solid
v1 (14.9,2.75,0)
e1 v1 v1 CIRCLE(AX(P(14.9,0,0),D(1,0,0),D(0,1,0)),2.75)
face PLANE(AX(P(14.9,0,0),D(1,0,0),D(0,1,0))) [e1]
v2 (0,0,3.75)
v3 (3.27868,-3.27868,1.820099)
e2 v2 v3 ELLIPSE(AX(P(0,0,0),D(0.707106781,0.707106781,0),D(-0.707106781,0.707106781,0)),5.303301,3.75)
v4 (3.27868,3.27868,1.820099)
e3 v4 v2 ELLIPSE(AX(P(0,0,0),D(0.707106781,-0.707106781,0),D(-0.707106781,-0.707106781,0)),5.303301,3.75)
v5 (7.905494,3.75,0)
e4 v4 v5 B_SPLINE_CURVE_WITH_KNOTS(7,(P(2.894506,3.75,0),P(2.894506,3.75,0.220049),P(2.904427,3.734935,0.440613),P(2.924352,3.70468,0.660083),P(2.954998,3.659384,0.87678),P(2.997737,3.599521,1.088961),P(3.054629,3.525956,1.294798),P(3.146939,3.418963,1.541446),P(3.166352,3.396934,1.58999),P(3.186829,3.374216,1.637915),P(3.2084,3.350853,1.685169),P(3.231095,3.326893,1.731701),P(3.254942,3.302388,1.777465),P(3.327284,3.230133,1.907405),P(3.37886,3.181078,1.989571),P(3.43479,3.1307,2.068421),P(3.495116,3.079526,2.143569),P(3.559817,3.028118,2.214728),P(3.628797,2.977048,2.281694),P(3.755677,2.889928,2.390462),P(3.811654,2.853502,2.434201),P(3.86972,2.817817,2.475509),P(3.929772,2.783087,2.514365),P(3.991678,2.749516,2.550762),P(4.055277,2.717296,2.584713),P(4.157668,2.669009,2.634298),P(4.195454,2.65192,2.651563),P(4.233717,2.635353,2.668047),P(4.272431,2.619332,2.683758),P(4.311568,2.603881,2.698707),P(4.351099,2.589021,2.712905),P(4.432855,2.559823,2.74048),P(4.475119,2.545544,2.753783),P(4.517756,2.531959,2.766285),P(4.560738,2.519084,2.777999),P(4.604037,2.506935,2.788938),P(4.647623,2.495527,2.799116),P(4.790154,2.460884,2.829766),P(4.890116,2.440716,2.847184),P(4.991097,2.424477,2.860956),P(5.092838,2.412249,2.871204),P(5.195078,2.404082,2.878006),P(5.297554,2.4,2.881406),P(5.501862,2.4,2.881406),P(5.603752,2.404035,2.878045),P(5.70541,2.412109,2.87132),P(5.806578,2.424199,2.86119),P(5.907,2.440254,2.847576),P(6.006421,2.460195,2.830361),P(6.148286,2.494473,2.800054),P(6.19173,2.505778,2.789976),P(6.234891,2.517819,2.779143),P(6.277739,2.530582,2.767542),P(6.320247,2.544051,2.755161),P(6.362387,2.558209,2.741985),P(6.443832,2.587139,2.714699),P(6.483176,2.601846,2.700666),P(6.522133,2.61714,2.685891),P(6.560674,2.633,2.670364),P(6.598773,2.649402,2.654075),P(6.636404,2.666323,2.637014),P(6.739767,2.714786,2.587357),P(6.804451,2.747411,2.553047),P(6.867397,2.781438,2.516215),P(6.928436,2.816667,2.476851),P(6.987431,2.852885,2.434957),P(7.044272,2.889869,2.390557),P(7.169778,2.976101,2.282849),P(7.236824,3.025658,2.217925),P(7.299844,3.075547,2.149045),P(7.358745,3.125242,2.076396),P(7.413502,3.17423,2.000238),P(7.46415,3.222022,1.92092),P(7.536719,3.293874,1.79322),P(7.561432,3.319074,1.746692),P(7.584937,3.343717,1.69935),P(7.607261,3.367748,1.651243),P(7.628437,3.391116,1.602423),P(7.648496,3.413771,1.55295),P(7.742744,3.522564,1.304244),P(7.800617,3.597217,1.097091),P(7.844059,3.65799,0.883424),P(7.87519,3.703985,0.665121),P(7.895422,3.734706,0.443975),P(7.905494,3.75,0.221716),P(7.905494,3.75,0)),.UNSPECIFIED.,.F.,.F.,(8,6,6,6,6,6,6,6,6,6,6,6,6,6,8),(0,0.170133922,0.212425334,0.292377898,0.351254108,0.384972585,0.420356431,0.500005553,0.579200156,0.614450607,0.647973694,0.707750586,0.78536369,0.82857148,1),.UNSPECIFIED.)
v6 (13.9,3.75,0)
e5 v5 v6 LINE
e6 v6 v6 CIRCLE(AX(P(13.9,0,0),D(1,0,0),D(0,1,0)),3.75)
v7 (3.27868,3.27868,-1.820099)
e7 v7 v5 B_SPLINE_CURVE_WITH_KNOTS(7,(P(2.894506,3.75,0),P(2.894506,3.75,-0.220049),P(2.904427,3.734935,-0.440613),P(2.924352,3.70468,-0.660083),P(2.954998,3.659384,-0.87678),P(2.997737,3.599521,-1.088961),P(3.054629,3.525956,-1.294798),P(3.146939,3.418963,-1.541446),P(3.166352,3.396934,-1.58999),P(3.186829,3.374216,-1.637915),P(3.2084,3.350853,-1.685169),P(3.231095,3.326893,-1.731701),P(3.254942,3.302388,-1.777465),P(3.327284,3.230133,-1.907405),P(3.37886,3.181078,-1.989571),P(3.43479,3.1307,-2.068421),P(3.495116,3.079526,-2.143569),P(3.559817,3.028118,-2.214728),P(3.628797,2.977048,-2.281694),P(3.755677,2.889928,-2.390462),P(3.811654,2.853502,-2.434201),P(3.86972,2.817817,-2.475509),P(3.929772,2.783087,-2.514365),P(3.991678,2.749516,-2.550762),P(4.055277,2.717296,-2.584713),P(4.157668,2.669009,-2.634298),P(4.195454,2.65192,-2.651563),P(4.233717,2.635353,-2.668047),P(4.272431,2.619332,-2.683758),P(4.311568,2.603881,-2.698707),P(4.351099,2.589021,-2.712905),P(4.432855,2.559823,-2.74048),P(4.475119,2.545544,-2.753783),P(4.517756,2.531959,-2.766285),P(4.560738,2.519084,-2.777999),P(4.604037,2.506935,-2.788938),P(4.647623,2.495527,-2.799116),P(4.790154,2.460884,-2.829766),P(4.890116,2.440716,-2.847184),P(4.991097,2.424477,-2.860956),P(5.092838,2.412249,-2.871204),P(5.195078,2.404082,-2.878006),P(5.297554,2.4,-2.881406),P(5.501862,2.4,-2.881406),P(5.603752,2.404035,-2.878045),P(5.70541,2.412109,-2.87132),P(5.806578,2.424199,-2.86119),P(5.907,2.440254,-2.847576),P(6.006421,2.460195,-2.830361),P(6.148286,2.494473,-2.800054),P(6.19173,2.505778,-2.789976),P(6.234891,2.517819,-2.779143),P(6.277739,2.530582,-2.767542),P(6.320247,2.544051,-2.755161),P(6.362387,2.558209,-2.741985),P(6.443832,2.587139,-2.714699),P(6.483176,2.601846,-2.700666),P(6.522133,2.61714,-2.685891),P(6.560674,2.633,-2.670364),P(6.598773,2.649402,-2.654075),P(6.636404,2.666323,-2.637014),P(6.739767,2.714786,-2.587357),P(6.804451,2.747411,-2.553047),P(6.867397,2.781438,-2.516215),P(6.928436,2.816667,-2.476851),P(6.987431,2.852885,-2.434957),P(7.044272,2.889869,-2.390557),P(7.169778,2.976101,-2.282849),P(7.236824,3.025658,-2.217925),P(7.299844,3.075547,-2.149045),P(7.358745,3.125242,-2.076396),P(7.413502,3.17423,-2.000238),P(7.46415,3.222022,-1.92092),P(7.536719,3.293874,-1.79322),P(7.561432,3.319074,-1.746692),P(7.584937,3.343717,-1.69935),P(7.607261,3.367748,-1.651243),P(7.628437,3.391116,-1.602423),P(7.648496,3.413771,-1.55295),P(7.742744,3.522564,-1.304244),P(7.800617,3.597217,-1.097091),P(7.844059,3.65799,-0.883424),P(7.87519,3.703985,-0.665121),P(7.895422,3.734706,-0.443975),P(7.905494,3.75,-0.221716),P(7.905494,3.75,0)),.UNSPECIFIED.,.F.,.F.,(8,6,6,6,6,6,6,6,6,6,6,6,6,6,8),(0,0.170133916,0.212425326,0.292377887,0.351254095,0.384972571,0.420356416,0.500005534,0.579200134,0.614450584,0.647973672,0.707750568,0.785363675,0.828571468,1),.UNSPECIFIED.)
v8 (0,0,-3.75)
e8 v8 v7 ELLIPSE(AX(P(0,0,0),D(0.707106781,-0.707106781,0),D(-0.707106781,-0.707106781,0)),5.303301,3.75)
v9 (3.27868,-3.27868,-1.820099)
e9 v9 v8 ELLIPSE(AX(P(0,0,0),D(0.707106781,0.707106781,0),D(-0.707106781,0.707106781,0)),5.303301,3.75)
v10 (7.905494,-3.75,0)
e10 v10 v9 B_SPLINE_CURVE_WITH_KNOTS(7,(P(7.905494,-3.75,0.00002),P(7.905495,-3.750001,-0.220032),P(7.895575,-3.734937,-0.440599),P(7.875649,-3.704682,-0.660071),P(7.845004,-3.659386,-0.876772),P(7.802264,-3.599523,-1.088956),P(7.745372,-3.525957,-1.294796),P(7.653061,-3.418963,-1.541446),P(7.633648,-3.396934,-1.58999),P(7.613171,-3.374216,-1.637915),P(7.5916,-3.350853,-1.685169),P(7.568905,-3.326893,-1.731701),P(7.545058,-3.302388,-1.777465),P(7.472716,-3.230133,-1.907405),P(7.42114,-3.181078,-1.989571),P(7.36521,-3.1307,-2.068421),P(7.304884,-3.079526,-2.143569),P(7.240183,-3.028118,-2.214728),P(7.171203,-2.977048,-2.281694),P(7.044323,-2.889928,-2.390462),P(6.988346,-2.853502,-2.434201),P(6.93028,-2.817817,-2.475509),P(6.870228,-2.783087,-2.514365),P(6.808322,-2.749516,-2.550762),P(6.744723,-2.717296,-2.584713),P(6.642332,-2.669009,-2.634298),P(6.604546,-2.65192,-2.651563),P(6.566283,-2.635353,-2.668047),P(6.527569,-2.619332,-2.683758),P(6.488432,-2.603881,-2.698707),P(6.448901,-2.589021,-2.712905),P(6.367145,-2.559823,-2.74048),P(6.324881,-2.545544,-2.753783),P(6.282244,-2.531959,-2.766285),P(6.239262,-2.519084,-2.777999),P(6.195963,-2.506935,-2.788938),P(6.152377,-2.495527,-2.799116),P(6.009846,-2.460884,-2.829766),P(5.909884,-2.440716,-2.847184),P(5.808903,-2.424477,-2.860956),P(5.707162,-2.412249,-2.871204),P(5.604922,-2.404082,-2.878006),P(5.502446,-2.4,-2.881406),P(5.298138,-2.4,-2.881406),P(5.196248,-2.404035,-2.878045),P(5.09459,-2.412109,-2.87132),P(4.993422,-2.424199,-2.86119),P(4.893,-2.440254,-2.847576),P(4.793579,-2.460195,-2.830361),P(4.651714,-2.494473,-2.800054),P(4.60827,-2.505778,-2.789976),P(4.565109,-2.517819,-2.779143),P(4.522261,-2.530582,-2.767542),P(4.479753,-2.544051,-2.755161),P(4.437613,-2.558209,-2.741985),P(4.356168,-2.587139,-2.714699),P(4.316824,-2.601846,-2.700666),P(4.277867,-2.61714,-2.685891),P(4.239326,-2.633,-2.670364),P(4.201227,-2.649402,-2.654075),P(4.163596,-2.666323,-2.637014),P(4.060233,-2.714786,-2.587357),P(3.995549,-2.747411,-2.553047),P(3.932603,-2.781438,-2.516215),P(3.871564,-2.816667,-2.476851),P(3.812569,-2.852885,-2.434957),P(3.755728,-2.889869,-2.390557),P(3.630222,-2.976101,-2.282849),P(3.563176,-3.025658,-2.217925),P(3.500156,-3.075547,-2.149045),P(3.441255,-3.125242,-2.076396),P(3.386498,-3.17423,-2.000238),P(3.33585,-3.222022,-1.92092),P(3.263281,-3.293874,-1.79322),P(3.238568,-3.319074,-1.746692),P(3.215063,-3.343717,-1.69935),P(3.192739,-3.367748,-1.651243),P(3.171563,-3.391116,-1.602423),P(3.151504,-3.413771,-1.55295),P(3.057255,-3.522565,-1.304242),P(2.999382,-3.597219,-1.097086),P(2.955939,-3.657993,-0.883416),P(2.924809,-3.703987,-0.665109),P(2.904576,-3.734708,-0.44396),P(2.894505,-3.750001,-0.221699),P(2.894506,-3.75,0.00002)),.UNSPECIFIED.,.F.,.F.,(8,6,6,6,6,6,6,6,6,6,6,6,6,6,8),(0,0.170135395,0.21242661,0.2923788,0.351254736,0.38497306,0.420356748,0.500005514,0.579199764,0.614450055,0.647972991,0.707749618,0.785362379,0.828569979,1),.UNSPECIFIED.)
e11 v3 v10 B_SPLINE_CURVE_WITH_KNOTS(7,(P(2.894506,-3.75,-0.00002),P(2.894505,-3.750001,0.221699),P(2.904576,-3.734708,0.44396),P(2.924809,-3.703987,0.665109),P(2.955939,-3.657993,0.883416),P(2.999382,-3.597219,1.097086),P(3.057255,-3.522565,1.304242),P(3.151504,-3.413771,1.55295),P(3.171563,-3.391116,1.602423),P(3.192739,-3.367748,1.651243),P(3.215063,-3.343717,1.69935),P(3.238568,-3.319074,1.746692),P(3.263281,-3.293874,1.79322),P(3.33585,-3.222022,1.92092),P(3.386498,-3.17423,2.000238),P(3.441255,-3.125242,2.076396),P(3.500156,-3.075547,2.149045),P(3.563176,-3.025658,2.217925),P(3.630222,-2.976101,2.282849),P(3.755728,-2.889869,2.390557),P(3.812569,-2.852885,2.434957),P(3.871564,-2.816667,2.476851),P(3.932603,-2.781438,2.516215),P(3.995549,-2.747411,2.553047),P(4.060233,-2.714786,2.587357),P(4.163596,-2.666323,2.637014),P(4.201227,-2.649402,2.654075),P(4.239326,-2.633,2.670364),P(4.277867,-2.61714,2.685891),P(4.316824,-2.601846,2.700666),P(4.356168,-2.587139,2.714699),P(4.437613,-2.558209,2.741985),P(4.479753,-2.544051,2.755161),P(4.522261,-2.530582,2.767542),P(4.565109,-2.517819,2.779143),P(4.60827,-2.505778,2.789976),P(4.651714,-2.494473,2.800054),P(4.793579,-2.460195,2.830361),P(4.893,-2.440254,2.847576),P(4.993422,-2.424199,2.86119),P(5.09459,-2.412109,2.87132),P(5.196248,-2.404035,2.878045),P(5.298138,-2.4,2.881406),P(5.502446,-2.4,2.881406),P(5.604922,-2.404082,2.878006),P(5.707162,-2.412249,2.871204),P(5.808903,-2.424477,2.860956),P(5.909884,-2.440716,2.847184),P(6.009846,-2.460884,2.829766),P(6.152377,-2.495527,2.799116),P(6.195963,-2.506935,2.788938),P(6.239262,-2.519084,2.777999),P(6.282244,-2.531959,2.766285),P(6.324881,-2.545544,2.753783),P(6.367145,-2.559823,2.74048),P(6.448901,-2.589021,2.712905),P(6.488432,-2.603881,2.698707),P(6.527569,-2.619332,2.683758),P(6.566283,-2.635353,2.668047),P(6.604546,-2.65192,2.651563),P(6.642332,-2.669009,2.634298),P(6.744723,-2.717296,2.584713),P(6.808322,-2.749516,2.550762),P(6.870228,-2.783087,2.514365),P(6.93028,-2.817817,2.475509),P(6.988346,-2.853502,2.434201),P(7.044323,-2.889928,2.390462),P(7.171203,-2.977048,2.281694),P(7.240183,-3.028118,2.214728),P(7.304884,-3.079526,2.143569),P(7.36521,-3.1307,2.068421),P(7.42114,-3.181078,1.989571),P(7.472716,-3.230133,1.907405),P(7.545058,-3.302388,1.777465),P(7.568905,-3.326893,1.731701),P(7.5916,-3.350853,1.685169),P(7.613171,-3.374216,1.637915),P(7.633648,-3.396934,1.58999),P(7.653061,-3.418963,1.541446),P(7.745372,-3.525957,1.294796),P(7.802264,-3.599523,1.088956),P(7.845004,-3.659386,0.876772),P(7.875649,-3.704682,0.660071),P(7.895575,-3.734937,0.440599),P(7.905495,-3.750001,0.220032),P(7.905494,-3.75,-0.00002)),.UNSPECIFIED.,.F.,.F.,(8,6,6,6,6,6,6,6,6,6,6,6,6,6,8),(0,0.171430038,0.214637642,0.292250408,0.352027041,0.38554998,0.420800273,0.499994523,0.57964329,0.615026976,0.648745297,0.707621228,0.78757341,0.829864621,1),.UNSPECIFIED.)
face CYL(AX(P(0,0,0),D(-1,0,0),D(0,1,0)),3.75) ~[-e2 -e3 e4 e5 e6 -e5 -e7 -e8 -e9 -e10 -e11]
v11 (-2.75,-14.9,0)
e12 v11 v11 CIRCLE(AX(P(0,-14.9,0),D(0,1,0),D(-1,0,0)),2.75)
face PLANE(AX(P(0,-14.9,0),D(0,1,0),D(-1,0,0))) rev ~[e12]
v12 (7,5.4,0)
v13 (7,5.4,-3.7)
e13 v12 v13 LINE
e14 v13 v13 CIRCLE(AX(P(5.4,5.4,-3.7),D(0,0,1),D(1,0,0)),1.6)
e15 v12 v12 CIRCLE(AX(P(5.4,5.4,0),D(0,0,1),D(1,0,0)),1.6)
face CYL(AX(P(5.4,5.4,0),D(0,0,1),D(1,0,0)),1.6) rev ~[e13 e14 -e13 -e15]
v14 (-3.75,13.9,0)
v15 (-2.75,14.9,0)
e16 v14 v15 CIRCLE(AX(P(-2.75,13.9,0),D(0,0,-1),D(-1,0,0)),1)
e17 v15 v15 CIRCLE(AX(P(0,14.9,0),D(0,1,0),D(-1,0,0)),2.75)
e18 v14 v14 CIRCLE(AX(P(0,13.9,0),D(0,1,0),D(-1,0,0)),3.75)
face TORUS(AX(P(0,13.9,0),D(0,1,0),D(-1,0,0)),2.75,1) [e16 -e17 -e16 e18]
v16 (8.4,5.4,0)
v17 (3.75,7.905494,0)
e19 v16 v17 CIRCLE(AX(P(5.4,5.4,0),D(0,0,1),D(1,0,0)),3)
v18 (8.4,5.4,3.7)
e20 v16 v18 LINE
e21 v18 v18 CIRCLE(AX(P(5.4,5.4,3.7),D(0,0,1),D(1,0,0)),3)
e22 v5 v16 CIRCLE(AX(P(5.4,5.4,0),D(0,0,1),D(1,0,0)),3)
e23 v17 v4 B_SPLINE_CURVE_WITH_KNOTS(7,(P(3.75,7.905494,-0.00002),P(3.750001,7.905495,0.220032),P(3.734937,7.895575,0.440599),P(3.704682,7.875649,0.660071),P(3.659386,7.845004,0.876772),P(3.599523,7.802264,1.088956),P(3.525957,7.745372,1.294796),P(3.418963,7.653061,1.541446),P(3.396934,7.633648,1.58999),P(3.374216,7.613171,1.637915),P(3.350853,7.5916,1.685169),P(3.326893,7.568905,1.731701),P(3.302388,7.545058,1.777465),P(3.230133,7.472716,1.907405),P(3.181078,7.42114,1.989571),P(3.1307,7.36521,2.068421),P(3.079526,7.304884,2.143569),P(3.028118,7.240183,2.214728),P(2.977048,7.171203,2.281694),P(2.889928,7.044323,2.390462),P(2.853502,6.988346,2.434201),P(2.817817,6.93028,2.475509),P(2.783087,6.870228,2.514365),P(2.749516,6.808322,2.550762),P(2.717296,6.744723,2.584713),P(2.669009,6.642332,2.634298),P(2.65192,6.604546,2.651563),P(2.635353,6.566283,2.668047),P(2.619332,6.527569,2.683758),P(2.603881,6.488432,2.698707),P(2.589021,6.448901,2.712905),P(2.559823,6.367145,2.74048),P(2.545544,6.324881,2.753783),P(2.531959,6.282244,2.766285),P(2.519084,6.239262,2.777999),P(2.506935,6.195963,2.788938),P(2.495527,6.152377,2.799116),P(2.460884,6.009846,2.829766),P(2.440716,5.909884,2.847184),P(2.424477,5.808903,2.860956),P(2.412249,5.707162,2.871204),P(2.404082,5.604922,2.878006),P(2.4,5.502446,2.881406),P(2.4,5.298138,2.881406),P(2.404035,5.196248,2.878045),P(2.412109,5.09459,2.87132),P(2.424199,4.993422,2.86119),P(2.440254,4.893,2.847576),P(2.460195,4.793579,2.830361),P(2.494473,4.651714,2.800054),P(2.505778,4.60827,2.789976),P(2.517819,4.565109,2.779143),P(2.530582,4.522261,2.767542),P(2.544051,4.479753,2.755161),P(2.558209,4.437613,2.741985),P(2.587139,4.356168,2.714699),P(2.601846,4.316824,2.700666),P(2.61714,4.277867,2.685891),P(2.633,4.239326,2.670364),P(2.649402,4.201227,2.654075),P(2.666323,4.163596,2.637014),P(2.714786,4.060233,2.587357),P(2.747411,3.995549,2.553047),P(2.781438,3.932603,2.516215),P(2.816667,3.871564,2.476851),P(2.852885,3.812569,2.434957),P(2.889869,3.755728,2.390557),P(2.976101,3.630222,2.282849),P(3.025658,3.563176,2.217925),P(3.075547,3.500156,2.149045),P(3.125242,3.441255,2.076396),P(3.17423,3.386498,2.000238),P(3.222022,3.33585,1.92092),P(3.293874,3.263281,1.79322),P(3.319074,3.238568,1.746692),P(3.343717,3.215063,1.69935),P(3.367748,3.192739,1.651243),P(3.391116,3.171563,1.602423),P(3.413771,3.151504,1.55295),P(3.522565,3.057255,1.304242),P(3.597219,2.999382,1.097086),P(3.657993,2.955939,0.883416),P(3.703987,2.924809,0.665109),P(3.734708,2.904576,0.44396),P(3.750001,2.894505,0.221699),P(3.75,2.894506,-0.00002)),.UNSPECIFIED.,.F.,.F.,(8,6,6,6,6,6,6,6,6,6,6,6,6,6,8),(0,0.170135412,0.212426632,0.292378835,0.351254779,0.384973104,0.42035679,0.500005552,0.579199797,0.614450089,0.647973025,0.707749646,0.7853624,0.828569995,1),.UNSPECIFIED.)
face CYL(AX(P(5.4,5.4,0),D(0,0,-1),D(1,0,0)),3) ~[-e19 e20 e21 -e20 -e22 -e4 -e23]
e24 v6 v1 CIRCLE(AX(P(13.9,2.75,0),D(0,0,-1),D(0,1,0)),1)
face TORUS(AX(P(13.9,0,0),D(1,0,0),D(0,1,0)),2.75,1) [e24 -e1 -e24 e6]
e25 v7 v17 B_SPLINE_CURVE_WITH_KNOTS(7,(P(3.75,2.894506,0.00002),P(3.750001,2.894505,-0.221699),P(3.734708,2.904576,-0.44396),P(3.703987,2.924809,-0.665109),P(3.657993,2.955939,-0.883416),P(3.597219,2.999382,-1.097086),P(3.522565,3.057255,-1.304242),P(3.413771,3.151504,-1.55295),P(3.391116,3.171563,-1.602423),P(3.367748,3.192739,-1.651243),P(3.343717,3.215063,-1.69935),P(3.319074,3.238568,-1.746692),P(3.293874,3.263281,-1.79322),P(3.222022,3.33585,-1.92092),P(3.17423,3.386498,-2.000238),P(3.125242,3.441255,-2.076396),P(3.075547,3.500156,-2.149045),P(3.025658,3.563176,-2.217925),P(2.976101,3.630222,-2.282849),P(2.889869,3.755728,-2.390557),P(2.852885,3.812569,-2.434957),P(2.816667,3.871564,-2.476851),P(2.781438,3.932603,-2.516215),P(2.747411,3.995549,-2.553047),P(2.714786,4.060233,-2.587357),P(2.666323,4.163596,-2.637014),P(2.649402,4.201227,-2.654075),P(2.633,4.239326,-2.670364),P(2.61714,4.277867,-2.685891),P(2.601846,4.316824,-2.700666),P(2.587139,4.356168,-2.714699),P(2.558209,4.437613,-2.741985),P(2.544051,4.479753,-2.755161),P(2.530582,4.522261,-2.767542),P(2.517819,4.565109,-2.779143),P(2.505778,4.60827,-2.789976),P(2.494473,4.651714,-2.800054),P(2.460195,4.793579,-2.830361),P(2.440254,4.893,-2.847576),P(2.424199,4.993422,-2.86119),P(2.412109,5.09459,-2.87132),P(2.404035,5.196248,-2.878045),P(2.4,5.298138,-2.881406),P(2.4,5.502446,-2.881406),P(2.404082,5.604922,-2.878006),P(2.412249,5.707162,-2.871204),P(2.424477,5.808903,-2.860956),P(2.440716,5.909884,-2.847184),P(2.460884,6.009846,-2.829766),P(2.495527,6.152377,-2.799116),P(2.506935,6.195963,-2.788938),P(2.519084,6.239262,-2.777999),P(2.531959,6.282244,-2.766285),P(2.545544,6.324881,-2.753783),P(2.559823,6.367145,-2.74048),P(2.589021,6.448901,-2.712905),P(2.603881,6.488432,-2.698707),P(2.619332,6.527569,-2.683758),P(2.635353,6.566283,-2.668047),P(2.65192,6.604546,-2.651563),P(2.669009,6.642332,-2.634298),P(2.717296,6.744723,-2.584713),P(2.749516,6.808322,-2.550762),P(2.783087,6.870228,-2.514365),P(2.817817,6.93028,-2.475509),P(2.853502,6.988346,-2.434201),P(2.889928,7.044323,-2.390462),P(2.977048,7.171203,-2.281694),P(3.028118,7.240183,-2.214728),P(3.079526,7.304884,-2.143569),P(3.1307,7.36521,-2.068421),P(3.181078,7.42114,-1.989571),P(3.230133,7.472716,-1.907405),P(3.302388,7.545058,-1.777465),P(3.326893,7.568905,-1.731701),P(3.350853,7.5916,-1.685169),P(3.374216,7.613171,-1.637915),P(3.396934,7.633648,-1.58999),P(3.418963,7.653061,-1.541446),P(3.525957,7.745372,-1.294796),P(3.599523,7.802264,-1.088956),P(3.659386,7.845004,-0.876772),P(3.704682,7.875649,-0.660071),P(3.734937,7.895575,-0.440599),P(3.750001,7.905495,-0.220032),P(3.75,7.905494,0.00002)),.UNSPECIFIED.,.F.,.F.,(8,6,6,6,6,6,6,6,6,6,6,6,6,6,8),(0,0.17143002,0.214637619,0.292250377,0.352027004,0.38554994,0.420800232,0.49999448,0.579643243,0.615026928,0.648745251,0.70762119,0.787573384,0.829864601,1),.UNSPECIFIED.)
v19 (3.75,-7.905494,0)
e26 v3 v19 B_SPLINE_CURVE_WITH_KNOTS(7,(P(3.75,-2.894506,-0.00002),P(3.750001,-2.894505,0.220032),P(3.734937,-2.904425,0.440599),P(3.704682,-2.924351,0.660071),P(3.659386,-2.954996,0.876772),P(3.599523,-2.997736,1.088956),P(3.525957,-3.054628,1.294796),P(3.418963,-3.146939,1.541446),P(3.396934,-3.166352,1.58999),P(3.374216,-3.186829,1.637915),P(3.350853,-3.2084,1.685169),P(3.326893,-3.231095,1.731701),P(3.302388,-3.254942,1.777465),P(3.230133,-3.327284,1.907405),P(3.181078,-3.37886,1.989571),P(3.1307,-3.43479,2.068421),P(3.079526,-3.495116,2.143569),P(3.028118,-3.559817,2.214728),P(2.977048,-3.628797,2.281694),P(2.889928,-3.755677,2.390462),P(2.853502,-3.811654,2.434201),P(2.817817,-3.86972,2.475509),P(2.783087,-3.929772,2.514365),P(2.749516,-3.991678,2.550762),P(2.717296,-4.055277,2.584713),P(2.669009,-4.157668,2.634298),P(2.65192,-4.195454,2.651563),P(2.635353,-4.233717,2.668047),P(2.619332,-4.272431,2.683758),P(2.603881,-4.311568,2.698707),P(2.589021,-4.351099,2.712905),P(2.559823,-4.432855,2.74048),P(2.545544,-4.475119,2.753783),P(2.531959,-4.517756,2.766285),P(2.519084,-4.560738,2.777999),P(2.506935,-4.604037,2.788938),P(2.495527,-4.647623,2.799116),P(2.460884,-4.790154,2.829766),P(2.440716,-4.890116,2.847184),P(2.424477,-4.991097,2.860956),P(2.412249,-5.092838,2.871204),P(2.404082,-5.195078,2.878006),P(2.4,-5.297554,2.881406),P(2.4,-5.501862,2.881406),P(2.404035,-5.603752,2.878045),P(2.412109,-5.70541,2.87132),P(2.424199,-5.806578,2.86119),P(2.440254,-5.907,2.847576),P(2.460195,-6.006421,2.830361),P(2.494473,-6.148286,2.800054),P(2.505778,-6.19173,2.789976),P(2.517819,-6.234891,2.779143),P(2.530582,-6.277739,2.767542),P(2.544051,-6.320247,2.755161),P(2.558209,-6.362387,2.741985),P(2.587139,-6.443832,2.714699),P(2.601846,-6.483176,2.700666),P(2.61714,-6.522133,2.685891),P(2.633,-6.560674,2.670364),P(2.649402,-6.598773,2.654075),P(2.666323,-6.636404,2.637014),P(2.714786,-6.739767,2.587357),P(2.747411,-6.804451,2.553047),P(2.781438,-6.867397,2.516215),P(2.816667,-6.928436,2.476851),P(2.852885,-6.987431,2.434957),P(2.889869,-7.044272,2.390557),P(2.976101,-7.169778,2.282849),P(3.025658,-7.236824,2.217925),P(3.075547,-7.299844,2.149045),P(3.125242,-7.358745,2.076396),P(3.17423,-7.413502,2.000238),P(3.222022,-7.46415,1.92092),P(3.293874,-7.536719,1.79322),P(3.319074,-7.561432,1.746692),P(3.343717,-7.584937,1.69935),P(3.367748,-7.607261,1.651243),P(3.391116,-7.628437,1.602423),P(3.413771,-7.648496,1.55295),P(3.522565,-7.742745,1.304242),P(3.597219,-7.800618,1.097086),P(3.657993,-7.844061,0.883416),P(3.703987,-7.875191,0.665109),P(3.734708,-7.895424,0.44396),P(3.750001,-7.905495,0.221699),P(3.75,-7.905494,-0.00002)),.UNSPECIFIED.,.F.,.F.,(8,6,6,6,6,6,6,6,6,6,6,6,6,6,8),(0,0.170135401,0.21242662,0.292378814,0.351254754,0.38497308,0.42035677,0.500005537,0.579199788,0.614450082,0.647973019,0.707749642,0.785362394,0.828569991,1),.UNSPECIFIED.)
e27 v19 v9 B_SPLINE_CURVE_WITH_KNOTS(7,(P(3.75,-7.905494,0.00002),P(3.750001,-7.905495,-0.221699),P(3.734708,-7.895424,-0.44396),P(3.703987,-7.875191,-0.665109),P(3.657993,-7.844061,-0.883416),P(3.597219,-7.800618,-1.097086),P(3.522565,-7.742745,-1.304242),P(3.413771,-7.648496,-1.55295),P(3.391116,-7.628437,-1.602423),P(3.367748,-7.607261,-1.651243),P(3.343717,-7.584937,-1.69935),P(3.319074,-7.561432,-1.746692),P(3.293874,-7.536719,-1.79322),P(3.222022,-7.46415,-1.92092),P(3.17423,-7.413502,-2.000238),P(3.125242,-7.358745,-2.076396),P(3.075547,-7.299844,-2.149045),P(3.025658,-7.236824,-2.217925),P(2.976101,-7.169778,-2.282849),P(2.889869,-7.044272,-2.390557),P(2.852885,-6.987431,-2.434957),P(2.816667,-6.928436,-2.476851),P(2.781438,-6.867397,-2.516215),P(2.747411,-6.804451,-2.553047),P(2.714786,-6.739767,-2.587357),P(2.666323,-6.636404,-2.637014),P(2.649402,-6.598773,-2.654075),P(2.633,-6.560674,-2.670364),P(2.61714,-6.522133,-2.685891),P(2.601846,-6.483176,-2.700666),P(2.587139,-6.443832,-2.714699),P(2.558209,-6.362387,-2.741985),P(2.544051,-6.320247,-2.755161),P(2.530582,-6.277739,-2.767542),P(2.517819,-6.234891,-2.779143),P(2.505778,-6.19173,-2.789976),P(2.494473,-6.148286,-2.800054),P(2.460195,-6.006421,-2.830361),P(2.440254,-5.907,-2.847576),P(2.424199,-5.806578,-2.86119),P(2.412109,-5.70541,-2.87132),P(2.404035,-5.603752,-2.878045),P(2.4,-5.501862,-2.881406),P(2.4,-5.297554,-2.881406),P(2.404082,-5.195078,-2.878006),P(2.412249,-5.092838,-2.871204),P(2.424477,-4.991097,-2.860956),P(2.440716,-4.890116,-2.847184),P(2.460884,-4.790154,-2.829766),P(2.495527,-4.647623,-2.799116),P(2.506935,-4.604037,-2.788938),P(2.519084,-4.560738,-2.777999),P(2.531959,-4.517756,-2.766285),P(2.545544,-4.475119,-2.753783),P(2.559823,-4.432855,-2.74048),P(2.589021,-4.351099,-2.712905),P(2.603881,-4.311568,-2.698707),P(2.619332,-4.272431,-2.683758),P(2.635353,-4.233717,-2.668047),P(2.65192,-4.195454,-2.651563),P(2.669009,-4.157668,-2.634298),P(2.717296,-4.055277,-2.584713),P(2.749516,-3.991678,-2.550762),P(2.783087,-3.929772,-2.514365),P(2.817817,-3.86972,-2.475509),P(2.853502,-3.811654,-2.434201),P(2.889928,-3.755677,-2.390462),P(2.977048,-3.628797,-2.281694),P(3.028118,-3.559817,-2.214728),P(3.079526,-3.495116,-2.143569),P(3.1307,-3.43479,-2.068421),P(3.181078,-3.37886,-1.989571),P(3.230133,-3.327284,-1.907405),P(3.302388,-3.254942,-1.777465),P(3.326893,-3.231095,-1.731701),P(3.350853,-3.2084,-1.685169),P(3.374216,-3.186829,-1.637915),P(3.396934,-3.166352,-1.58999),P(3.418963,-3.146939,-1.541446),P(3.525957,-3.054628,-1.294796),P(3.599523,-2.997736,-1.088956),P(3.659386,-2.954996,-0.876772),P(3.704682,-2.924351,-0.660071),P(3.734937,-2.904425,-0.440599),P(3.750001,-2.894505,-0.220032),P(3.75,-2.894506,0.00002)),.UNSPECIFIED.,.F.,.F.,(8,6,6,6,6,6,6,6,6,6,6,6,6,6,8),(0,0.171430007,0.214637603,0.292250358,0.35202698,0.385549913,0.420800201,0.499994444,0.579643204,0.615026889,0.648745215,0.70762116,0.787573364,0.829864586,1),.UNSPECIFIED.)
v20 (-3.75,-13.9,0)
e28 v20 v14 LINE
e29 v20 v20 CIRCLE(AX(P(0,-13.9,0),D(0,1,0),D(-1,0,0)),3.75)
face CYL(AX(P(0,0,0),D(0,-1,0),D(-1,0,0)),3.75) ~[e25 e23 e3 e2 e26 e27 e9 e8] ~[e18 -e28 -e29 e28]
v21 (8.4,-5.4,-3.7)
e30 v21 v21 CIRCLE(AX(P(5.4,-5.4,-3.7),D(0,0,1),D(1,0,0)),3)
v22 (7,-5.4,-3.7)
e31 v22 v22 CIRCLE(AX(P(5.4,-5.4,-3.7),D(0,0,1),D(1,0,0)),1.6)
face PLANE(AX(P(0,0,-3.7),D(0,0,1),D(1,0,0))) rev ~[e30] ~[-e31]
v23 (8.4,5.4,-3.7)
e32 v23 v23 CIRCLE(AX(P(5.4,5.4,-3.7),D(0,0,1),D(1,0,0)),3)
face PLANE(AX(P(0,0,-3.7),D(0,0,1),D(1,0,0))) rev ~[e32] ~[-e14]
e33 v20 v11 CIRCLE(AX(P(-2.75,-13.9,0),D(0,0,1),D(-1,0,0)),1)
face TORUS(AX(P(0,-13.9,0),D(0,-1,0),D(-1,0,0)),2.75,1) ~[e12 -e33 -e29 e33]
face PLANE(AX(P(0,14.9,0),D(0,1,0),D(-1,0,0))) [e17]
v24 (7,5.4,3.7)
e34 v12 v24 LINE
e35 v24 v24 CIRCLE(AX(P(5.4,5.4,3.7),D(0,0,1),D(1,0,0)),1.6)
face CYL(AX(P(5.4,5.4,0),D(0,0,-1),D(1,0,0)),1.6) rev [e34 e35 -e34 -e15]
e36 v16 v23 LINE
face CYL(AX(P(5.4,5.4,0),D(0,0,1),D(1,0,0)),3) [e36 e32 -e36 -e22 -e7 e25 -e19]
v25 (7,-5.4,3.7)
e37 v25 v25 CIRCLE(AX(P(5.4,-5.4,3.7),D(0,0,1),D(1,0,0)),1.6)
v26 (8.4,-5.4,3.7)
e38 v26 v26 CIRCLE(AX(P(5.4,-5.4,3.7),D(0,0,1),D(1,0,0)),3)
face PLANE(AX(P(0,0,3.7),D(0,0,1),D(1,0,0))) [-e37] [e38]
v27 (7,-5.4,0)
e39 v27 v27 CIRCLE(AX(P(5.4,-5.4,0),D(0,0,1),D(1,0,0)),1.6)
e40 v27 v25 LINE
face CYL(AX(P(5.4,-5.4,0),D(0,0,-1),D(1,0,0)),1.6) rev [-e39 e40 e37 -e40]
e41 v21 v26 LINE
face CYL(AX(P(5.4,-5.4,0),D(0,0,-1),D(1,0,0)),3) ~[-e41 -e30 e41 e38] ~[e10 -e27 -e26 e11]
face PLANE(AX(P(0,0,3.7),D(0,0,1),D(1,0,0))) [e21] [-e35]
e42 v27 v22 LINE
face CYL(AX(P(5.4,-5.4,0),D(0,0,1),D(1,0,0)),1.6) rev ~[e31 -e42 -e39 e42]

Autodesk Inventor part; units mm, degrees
ref_plane "YZ Plane" through (0, 0, 0) normal (1, 0, 0) x (0, 1, 0)
ref_plane "XZ Plane" through (0, 0, 0) normal (0, 1, 0) x (-1, 0, 0)
ref_plane "XY Plane" through (0, 0, 0) normal (0, 0, 1) x (1, 0, 0)
sketch "Sketch1" plane through (0, 0, 0) normal (0, 1, 0) x (-1, 0, 0)
  circle A0 centre (0, 0) radius 3.75
  dimension "d0" = 7.5
extrude "Extrusion1" add sketch "Sketch1" along normal mid plane 29.8
sketch "Sketch2" plane through (0, 0, 0) normal (1, 0, 0) x (0, 1, 0)
  line L0 (-14.9, 3.75) -> (-14.9, -3.75) projected
  line L1 (14.9, -3.75) -> (14.9, 3.75) projected
  circle A0 centre (0, 0) radius 3.75
extrude "Extrusion2" add sketch "Sketch2" along normal blind 14.9
sketch "Sketch3" plane through (0, 0, 0) normal (0, 0, 1) x (1, 0, 0)
  line L0 (0, 13.8301) -> (0, -13.8301) construction
  line L1 (-5.2476, 0) -> (14.0163, 0) construction
  circle A0 centre (5.4, 5.4) radius 1.6
  circle A1 centre (5.4, -5.4) radius 1.6
  circle A2 centre (5.4, 5.4) radius 3
  circle A3 centre (5.4, -5.4) radius 3
  point P0 (0, 0)
  point P1 (0, 0)
  dimension "d5" = 5.4
  dimension "d6" = 5.4
  dimension "d7" = 3.2
  dimension "d8" = 3.2
  dimension "d9" = 6
  dimension "d10" = 6
  dimension "d11" = 5.4
  dimension "d12" = 5.4
extrude "Extrusion3" add sketch "Sketch3" along normal mid plane 7.4
fillet "Fillet1" radius 1 3 edges at (3.75, 14.9, 0) (14.9, -3.75, 0) (3.75, -14.9, 0)
properties part number "Union Tee 1-8 KQ2T01-00A SMC"
